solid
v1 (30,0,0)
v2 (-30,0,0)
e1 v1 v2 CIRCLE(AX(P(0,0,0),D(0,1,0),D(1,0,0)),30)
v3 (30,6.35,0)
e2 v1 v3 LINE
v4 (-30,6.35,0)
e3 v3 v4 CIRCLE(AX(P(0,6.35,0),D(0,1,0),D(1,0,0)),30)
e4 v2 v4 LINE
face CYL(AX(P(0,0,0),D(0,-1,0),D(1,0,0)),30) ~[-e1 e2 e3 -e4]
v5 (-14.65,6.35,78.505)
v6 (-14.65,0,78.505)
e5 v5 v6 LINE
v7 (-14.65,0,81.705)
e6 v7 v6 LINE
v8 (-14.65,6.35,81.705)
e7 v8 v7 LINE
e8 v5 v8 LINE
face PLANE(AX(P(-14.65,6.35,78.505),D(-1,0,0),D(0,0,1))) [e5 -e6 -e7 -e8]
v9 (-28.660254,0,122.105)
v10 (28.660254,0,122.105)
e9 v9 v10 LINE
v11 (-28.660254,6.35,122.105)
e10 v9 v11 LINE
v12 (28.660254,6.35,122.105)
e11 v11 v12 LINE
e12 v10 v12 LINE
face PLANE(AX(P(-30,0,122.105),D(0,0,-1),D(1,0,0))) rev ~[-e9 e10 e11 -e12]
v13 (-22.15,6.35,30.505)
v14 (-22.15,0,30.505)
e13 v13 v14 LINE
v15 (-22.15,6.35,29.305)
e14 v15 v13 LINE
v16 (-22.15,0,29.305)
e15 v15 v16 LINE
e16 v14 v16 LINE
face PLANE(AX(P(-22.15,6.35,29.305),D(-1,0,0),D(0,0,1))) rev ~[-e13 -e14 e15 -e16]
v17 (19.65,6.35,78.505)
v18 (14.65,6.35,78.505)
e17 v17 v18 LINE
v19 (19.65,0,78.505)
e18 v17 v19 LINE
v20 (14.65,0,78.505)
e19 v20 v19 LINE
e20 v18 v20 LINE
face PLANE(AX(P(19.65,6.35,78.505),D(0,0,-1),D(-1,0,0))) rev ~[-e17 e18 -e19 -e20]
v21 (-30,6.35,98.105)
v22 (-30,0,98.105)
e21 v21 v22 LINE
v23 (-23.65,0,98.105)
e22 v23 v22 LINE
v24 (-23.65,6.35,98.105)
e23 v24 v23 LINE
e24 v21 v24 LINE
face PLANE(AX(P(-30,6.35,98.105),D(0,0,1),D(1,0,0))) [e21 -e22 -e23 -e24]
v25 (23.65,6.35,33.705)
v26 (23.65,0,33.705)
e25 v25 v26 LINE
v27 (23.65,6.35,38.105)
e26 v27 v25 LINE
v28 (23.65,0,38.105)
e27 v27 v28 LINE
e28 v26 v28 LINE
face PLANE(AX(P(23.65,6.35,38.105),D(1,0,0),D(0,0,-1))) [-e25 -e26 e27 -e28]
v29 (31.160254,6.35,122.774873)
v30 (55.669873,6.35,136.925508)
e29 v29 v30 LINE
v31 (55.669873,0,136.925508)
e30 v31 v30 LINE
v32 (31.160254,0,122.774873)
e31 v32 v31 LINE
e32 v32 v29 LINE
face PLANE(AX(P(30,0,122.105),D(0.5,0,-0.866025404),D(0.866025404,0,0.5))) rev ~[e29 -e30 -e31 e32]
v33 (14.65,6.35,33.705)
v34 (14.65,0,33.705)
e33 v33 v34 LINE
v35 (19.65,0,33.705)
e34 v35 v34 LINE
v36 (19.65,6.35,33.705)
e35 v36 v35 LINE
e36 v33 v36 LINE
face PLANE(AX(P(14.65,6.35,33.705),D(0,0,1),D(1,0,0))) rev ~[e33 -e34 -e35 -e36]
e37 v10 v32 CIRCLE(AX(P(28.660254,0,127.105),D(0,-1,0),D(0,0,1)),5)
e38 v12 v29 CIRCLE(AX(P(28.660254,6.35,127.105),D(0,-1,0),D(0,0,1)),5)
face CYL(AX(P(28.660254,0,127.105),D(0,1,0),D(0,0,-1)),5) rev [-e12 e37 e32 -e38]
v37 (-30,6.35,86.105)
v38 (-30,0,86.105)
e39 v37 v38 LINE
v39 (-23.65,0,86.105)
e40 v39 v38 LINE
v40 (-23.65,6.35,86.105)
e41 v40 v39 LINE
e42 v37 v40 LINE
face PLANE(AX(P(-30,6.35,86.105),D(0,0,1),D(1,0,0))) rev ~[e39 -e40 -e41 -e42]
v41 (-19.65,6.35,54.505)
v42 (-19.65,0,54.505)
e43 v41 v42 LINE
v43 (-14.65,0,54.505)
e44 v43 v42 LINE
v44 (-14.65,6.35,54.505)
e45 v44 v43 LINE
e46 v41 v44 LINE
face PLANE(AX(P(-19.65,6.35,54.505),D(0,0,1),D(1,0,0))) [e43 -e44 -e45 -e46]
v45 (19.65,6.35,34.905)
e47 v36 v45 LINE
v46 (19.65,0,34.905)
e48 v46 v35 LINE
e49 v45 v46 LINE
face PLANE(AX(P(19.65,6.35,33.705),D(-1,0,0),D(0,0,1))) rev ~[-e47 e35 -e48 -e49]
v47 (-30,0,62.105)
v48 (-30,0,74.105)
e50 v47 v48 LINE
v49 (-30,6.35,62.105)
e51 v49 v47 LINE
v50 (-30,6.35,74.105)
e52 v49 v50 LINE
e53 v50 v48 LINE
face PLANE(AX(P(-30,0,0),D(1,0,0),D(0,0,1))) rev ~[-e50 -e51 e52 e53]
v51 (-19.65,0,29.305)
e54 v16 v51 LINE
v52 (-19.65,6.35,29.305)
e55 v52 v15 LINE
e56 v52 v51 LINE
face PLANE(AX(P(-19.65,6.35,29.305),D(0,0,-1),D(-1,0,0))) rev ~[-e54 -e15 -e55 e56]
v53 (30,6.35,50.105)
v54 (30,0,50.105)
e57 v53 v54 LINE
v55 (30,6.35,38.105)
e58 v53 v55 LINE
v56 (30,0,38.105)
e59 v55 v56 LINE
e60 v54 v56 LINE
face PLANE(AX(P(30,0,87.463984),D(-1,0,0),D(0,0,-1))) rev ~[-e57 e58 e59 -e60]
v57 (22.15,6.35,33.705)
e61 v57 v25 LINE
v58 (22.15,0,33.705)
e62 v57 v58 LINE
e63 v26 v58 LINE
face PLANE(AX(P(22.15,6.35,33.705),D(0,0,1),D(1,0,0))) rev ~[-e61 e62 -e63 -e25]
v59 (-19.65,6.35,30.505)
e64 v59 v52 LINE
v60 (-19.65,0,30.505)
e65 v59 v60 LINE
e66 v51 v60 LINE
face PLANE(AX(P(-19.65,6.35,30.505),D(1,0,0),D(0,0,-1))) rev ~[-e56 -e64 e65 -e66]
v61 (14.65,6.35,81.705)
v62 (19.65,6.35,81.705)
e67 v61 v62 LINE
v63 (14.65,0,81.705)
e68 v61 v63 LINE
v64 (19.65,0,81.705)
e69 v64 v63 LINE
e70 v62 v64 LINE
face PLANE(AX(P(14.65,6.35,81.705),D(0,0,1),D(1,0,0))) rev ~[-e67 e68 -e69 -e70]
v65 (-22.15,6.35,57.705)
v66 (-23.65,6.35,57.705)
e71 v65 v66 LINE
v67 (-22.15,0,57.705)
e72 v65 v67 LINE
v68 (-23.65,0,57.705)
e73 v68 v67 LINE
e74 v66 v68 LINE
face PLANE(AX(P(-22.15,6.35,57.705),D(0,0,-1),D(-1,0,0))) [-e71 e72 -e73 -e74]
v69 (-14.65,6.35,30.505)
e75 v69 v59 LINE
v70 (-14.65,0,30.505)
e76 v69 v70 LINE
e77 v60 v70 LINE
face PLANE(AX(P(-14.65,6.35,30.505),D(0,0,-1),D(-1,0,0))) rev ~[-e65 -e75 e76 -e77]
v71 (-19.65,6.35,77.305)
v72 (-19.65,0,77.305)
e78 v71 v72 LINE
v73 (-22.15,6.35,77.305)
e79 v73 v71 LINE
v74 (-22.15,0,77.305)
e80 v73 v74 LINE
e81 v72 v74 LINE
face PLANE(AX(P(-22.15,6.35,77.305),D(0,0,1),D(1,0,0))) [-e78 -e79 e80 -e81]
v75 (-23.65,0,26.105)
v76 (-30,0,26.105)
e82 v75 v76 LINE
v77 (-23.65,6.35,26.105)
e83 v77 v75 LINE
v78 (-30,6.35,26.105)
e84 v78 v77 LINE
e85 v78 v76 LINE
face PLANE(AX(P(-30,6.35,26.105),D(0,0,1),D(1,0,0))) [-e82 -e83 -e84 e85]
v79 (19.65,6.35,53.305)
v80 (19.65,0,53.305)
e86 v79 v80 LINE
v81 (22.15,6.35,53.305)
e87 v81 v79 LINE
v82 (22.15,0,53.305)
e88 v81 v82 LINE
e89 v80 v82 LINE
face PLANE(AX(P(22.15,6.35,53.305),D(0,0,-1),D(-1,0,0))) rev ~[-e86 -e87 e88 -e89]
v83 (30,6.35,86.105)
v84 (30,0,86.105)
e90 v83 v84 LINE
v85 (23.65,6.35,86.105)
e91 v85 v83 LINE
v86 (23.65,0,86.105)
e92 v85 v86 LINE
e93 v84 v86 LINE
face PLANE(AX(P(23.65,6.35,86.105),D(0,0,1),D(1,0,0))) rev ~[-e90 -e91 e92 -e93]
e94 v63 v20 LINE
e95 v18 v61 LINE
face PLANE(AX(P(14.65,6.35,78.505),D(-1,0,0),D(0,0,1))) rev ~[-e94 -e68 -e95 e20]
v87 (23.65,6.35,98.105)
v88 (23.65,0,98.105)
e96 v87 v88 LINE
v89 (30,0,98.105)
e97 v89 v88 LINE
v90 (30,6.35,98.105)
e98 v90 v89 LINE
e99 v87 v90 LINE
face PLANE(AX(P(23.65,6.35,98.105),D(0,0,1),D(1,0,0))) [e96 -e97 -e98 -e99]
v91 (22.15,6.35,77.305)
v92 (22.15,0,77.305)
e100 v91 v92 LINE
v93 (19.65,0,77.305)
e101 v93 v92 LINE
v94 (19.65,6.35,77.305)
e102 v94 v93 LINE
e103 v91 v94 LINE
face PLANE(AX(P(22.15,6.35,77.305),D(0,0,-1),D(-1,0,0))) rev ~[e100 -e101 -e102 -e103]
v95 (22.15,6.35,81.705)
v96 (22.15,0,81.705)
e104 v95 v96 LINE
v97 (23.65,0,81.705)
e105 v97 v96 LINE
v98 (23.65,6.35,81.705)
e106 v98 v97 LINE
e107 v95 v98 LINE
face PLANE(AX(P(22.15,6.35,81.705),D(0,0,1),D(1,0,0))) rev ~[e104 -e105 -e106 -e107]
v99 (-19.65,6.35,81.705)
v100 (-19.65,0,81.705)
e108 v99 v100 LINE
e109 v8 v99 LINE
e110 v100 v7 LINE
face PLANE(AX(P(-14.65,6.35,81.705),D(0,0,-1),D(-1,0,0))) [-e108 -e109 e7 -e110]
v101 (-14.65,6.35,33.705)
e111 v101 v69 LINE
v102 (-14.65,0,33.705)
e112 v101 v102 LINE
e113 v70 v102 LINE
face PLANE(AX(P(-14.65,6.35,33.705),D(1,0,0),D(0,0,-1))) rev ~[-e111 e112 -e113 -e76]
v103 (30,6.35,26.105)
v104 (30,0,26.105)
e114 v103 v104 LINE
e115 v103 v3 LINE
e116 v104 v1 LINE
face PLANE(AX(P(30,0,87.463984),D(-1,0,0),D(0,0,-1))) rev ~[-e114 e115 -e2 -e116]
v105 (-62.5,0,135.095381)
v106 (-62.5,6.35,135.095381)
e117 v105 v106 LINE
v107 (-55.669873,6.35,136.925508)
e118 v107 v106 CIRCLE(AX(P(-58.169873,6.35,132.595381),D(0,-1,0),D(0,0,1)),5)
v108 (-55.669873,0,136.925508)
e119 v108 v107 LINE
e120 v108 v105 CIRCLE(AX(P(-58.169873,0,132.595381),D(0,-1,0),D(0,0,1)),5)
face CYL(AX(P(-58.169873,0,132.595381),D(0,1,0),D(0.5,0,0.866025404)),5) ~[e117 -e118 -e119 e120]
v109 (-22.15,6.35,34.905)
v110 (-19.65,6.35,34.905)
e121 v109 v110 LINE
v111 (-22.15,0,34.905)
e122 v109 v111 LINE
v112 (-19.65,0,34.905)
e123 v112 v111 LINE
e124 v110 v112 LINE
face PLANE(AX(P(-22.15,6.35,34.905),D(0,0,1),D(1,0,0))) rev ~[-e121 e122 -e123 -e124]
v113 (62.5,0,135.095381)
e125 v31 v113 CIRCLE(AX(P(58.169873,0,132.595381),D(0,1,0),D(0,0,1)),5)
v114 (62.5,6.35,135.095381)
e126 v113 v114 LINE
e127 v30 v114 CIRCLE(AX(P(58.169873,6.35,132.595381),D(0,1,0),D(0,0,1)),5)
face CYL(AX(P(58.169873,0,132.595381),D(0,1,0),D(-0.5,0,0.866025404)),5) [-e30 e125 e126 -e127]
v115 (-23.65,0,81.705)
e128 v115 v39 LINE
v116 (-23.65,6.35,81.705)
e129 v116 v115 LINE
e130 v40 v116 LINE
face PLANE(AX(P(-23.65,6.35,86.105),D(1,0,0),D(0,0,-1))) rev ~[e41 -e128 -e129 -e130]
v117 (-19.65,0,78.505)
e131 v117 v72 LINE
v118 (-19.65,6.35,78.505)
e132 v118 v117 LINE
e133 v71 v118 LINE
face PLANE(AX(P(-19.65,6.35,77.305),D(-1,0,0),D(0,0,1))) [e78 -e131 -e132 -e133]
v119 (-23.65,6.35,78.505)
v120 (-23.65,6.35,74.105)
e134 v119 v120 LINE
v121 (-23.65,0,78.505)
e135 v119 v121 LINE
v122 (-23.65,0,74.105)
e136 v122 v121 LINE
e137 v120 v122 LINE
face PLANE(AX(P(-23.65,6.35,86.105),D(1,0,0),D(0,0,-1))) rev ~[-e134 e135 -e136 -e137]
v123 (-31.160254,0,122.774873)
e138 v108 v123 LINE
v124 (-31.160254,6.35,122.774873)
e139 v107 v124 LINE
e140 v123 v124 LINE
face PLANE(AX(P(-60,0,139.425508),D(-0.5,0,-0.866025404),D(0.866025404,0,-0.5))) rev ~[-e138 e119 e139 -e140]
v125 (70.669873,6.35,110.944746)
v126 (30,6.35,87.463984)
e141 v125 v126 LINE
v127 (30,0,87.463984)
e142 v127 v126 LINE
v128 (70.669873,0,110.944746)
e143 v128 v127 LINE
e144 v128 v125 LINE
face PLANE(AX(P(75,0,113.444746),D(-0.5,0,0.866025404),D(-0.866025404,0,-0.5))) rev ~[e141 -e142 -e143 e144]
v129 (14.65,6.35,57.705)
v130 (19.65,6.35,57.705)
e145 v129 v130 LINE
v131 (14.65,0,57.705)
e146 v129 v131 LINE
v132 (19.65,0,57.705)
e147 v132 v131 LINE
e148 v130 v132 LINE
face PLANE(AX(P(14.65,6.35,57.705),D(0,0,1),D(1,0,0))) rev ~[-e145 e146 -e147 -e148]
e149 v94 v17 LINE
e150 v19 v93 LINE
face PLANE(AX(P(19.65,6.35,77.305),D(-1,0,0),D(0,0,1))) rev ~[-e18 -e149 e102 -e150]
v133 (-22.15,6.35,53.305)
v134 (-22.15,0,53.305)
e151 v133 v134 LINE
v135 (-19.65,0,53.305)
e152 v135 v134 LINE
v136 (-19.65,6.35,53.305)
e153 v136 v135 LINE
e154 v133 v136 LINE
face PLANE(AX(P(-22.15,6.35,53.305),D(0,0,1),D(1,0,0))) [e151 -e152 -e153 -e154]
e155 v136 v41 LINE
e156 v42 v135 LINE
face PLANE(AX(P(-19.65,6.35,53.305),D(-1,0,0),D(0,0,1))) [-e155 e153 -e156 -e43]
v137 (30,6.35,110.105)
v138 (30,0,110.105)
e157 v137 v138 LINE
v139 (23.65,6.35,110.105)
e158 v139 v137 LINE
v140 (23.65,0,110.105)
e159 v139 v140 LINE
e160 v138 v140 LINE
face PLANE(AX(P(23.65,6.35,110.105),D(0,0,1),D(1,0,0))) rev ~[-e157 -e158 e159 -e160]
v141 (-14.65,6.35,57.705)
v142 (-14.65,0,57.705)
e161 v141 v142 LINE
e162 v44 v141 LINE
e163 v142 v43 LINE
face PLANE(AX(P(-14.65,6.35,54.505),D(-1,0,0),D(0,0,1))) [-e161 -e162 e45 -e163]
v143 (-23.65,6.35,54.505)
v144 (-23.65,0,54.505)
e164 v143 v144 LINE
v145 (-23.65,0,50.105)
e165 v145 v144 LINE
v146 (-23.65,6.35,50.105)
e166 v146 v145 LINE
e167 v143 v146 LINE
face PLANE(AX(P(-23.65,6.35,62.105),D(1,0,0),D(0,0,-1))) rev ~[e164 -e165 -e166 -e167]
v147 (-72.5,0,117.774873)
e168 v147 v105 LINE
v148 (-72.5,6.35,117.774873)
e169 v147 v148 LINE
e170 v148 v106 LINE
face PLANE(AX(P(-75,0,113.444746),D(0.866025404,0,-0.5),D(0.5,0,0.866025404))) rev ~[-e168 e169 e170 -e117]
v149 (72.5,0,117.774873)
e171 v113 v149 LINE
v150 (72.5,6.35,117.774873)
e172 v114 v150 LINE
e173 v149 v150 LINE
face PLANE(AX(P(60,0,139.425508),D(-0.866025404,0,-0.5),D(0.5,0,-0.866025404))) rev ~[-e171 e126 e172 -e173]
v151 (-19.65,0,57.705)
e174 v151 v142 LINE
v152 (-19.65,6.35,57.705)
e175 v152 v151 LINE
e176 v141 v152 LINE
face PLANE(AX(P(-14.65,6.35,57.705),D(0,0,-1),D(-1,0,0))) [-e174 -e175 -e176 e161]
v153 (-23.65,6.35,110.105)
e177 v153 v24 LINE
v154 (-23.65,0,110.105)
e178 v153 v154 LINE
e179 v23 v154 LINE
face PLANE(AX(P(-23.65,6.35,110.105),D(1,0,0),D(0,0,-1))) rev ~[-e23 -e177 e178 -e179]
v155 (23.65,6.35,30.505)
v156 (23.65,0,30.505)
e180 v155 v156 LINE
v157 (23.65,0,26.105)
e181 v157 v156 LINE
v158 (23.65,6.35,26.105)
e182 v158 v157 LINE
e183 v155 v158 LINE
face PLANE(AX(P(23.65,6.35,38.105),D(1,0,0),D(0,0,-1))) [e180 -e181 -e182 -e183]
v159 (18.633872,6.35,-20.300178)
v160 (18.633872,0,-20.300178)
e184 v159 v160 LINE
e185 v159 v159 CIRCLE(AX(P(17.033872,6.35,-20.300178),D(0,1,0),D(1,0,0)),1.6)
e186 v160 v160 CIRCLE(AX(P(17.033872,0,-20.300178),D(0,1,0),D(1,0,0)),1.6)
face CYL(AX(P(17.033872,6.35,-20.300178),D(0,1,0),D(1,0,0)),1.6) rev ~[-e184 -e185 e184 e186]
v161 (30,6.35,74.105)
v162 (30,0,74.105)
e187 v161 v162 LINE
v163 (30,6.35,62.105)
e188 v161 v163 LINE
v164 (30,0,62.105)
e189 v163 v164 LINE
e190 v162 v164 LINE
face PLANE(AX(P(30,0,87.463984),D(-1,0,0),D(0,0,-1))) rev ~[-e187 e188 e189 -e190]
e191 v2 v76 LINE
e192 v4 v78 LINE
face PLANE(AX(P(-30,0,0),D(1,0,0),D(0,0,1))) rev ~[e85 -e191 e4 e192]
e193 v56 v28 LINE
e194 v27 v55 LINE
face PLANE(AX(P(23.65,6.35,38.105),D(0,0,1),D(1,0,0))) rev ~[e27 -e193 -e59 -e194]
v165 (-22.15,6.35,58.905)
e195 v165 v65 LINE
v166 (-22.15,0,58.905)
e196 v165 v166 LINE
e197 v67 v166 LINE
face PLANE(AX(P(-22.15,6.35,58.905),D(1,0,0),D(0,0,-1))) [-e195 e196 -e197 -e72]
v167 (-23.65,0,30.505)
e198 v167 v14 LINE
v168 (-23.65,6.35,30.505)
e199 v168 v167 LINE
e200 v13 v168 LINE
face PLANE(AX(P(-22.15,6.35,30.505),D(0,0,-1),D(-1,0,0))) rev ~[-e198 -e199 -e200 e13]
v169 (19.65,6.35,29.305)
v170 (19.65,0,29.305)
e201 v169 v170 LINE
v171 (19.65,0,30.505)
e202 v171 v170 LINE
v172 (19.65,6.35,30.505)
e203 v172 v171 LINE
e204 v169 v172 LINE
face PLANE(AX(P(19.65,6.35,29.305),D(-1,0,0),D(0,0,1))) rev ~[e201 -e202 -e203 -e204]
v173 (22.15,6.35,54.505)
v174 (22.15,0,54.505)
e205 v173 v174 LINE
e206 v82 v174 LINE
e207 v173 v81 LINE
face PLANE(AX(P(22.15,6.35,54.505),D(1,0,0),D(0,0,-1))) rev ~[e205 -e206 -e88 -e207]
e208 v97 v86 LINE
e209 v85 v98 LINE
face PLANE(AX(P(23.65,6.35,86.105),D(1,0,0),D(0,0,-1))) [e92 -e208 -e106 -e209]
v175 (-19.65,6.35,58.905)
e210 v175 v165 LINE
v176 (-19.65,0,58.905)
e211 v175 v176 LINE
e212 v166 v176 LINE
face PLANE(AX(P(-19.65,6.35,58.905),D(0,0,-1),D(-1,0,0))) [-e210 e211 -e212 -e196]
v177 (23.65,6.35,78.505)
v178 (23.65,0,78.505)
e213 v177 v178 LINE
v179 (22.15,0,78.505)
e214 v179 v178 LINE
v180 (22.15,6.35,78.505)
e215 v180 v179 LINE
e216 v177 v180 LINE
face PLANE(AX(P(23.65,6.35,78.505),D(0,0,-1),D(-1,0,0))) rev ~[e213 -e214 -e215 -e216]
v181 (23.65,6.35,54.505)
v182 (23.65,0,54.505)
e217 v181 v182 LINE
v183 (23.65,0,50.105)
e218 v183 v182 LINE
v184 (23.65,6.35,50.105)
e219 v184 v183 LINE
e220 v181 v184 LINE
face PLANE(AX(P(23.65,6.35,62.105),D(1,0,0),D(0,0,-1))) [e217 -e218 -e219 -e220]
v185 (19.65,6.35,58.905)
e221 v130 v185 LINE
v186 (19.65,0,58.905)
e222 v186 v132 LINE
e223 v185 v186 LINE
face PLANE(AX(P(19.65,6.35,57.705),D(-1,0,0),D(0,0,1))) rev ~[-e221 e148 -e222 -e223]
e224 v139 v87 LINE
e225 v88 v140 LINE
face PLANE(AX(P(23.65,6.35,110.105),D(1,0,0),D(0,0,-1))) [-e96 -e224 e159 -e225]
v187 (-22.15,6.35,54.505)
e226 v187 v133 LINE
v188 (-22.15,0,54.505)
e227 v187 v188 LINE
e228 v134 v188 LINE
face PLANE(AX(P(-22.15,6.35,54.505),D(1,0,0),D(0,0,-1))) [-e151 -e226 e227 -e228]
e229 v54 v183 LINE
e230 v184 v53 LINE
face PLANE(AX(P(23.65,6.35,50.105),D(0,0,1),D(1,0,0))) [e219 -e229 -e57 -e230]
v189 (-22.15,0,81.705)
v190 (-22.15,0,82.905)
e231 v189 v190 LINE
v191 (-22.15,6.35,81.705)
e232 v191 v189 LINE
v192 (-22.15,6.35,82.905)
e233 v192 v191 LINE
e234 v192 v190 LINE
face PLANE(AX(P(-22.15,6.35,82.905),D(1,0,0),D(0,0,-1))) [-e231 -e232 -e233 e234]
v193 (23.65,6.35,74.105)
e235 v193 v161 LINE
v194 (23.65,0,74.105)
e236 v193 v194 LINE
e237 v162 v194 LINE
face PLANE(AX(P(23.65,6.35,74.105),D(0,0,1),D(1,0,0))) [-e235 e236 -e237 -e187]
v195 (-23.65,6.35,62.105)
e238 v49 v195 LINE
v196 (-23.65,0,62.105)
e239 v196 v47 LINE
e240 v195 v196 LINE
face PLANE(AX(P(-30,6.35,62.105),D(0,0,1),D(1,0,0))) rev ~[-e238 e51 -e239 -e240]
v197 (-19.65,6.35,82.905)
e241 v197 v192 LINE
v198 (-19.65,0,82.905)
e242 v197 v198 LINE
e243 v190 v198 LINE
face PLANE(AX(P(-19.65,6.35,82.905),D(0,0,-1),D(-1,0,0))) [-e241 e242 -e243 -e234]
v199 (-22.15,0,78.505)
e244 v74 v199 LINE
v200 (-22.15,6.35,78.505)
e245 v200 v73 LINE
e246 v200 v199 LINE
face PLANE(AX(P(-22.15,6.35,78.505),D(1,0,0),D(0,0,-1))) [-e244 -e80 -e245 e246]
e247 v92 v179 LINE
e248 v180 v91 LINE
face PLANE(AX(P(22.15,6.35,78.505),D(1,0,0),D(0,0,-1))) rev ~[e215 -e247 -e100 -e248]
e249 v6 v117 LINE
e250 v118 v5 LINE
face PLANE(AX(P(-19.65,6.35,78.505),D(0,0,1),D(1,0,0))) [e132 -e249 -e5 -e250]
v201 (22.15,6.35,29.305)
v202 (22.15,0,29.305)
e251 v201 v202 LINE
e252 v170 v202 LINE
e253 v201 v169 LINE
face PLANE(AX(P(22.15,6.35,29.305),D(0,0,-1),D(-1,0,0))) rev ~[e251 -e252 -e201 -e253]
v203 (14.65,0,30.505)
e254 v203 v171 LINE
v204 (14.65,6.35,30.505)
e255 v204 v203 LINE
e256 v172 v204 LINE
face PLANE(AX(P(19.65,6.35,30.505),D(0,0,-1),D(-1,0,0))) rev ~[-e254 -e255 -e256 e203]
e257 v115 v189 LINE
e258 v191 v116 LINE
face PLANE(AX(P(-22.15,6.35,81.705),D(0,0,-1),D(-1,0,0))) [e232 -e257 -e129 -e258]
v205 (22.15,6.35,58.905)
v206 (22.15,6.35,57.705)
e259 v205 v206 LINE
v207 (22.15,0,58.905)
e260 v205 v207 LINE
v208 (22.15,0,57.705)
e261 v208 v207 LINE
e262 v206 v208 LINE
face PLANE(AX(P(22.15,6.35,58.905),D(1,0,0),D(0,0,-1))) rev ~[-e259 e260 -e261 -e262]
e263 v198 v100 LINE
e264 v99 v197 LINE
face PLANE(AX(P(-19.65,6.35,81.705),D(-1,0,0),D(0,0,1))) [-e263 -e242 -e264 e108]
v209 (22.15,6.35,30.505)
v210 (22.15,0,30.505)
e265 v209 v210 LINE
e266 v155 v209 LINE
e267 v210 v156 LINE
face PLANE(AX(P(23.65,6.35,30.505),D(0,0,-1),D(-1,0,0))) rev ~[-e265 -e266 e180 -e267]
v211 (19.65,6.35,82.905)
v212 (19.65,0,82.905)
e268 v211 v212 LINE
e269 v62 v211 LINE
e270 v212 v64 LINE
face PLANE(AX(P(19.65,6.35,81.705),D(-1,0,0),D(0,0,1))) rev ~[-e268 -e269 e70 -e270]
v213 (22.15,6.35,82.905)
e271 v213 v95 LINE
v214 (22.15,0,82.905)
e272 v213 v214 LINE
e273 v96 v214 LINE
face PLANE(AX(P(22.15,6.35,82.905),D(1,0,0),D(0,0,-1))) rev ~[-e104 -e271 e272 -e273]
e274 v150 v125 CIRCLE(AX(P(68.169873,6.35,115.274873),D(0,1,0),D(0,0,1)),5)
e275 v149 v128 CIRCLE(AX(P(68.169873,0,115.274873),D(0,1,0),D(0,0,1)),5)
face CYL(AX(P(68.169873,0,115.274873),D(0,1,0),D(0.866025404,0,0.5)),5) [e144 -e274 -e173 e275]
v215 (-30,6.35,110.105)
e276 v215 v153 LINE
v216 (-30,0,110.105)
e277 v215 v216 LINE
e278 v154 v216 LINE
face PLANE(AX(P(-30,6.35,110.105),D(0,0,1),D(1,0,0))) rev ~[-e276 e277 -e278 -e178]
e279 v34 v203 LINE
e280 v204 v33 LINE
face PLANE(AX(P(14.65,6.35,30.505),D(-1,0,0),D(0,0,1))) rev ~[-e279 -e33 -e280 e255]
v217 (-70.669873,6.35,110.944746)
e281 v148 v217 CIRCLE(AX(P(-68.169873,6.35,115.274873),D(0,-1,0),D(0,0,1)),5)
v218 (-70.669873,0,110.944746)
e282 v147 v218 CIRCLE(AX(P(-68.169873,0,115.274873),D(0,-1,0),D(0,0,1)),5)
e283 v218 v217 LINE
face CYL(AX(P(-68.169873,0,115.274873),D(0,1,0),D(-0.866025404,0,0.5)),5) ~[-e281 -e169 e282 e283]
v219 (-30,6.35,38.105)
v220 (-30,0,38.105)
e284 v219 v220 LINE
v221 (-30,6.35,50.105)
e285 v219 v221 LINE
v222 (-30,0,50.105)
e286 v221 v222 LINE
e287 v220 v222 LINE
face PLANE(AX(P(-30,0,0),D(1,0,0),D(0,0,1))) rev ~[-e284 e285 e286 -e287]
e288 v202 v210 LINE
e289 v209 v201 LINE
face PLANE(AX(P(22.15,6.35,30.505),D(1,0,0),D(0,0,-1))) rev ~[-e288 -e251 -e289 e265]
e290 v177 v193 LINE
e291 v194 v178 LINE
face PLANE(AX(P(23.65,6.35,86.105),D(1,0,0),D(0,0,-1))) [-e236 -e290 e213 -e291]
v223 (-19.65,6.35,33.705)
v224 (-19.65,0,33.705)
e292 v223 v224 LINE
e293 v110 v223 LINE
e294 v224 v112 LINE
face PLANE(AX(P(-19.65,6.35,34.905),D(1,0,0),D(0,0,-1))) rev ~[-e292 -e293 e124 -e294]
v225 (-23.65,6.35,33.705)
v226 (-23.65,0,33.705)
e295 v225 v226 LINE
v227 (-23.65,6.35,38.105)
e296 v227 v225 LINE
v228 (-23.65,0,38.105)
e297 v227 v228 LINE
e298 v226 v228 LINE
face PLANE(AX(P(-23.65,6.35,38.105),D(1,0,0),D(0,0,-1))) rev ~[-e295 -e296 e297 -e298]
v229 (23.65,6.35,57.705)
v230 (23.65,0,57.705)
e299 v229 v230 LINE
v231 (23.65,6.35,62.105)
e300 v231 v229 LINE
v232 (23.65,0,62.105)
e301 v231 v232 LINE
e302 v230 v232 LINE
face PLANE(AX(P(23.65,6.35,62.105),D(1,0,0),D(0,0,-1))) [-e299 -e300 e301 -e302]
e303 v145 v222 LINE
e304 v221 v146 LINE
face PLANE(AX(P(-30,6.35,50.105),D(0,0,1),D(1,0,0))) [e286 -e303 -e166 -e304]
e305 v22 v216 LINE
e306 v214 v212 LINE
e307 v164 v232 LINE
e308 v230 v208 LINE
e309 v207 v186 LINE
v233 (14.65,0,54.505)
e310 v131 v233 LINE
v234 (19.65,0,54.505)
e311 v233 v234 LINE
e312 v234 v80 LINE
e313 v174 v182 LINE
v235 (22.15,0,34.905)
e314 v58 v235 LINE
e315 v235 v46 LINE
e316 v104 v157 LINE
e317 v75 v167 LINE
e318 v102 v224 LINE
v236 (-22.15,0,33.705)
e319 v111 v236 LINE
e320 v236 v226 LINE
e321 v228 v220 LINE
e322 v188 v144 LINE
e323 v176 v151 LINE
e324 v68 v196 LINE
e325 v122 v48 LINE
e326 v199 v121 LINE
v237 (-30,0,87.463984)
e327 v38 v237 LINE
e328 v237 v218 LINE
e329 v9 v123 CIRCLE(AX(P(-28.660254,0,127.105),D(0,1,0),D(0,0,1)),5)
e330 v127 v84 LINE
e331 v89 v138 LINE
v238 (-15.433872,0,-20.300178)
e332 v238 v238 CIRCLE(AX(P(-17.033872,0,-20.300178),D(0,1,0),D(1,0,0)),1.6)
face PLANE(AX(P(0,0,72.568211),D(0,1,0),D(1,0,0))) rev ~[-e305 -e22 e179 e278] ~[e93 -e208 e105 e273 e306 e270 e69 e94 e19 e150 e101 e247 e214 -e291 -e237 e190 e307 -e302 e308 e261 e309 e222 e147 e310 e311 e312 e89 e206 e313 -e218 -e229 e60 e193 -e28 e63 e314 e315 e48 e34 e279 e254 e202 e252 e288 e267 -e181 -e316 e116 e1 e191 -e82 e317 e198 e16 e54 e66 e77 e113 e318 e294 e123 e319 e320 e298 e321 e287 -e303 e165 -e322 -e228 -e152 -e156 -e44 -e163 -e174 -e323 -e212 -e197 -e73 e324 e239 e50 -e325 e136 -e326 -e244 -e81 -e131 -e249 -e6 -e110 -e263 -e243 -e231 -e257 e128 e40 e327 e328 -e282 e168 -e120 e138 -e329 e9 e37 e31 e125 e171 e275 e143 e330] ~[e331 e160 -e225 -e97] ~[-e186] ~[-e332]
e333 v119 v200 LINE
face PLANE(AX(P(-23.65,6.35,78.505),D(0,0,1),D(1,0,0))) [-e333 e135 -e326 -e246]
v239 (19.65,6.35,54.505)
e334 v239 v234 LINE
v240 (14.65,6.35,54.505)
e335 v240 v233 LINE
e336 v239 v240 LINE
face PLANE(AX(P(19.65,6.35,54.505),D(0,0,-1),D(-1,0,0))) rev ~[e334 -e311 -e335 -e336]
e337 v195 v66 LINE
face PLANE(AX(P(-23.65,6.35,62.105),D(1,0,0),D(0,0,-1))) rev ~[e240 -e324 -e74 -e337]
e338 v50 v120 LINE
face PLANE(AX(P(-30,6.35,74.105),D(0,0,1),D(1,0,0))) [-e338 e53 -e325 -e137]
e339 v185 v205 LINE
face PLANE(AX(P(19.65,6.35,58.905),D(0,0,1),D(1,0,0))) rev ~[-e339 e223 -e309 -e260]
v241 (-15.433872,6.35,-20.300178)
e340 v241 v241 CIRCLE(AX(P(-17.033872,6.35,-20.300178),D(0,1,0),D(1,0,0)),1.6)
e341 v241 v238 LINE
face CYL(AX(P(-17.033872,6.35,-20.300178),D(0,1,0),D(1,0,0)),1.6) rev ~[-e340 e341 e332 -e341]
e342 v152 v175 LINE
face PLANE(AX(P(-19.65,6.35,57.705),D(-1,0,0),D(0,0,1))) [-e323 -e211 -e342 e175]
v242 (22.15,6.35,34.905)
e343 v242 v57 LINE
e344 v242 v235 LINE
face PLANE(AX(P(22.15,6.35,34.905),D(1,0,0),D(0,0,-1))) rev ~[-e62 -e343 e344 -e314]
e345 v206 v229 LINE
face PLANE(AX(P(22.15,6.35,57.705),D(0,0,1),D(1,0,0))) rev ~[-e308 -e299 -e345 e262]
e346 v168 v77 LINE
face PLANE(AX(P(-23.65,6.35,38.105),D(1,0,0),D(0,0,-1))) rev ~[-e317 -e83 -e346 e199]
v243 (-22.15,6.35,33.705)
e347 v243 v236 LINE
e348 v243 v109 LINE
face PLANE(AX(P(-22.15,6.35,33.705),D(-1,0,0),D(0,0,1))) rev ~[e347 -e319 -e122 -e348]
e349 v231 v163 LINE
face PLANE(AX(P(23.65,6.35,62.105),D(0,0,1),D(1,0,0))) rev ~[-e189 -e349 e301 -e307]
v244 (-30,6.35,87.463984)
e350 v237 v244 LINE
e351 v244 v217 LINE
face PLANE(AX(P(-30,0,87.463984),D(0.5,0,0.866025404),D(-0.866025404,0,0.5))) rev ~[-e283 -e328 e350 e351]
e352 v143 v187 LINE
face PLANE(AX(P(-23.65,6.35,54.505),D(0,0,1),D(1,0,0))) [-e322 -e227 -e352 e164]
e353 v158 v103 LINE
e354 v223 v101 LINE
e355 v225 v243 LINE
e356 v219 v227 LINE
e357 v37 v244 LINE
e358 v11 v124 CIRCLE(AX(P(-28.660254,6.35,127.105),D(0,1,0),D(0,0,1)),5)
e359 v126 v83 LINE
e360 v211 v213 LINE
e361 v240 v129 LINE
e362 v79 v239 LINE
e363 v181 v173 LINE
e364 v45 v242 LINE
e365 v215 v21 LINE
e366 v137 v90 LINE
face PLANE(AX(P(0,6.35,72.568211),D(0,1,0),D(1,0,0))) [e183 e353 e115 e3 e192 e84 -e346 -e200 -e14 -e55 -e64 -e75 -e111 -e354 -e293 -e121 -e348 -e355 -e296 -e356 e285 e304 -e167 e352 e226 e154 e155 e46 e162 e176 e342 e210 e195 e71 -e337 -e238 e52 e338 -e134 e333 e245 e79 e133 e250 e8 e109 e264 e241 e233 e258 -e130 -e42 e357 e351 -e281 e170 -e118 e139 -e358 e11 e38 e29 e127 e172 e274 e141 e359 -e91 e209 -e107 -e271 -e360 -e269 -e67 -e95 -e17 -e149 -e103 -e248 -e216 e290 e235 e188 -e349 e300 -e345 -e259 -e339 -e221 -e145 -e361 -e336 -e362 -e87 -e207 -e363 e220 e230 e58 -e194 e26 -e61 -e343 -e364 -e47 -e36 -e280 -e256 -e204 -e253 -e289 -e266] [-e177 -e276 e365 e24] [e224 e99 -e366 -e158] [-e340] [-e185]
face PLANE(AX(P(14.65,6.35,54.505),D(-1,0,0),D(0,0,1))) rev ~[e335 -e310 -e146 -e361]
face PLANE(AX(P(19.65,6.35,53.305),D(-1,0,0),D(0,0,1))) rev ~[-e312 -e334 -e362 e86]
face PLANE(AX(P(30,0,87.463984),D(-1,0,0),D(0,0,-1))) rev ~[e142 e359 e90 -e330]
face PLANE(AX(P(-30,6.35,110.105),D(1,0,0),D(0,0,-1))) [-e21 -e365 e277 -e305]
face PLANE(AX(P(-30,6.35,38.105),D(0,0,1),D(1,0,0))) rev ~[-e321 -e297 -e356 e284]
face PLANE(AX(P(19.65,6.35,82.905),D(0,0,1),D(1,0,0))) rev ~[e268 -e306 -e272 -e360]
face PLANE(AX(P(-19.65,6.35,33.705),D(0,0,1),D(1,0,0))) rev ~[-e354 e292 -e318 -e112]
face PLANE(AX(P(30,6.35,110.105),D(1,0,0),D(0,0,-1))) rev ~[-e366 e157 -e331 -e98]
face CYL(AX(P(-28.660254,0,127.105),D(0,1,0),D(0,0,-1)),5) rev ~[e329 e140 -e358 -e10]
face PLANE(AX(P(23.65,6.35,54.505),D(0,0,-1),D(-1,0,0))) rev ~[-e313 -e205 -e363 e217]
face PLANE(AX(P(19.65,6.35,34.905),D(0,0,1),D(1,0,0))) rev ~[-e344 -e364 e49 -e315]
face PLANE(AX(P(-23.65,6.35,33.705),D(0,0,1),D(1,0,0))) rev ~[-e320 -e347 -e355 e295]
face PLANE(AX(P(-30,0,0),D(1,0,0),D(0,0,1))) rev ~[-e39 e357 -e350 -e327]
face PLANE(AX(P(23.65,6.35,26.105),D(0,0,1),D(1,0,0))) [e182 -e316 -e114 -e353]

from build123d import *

# Parameters (mm, degrees)
BOSS_EXTRUDE1_DEPTH = 6.35
CUT_EXTRUDE1_REACH  = 8.35
SKETCH3_W           = 6.35
SKETCH3_H           = 12
CUT_EXTRUDE2_REACH  = 8.35
SKETCH5_R           = 1.6
CUT_EXTRUDE3_DEPTH  = 7.35
FILLET1_R           = 5


with BuildPart() as part:
    # Sketch1 → Boss-Extrude1 (new body)
    with BuildSketch(Plane(origin=(0, 0, 0), x_dir=(1, 0, 0), z_dir=(0, 1, 0))):
        with BuildLine():
            Line((-30, -122.105), (30, -122.105))
            Line((30, -122.105), (60, -139.425508076))
            Line((60, -139.425508076), (75, -113.444745962))
            Line((75, -113.444745962), (30, -87.463983849))
            Line((30, -87.463983849), (30, 0))
            ThreePointArc((30, 0), (0, 30), (-30, 0))
            Line((-30, 0), (-30, -87.463983849))
            Line((-30, -87.463983849), (-75, -113.444745962))
            Line((-75, -113.444745962), (-60, -139.425508076))
            Line((-60, -139.425508076), (-30, -122.105))
        make_face()
    extrude(amount=BOSS_EXTRUDE1_DEPTH)

    # Sketch3 → Cut-Extrude1 (cut, up to next)
    with BuildSketch(Plane(origin=(0, 6.35, 0), x_dir=(1, 0, 0), z_dir=(0, 1, 0)), mode=Mode.PRIVATE) as cut_extrude1_sk1:
        with Locations((-26.825, -104.105)):
            Rectangle(SKETCH3_W, SKETCH3_H)
    cut_extrude1_tool1 = extrude(cut_extrude1_sk1.sketch, amount=-CUT_EXTRUDE1_REACH, mode=Mode.PRIVATE) & part.part
    add(cut_extrude1_tool1.solids().sort_by_distance((-26.825, 6.35, 104.105))[0], mode=Mode.SUBTRACT)
    # Sketch3 → Cut-Extrude1 (cut, up to next)
    with BuildSketch(Plane(origin=(0, 6.35, 0), x_dir=(1, 0, 0), z_dir=(0, 1, 0)), mode=Mode.PRIVATE) as cut_extrude1_sk2:
        with Locations((-26.825, -80.105)):
            Rectangle(SKETCH3_W, SKETCH3_H)
    cut_extrude1_tool2 = extrude(cut_extrude1_sk2.sketch, amount=-CUT_EXTRUDE1_REACH, mode=Mode.PRIVATE) & part.part
    add(cut_extrude1_tool2.solids().sort_by_distance((-26.825, 6.35, 80.105))[0], mode=Mode.SUBTRACT)
    # Sketch3 → Cut-Extrude1 (cut, up to next)
    with BuildSketch(Plane(origin=(0, 6.35, 0), x_dir=(1, 0, 0), z_dir=(0, 1, 0)), mode=Mode.PRIVATE) as cut_extrude1_sk3:
        with Locations((-26.825, -56.105)):
            Rectangle(SKETCH3_W, SKETCH3_H)
    cut_extrude1_tool3 = extrude(cut_extrude1_sk3.sketch, amount=-CUT_EXTRUDE1_REACH, mode=Mode.PRIVATE) & part.part
    add(cut_extrude1_tool3.solids().sort_by_distance((-26.825, 6.35, 56.105))[0], mode=Mode.SUBTRACT)
    # Sketch3 → Cut-Extrude1 (cut, up to next)
    with BuildSketch(Plane(origin=(0, 6.35, 0), x_dir=(1, 0, 0), z_dir=(0, 1, 0)), mode=Mode.PRIVATE) as cut_extrude1_sk4:
        with Locations((-26.825, -32.105)):
            Rectangle(SKETCH3_W, SKETCH3_H)
    cut_extrude1_tool4 = extrude(cut_extrude1_sk4.sketch, amount=-CUT_EXTRUDE1_REACH, mode=Mode.PRIVATE) & part.part
    add(cut_extrude1_tool4.solids().sort_by_distance((-26.825, 6.35, 32.105))[0], mode=Mode.SUBTRACT)
    # Sketch3 → Cut-Extrude1 (cut, up to next)
    with BuildSketch(Plane(origin=(0, 6.35, 0), x_dir=(1, 0, 0), z_dir=(0, 1, 0)), mode=Mode.PRIVATE) as cut_extrude1_sk5:
        with Locations((26.825, -32.105)):
            Rectangle(SKETCH3_W, SKETCH3_H)
    cut_extrude1_tool5 = extrude(cut_extrude1_sk5.sketch, amount=-CUT_EXTRUDE1_REACH, mode=Mode.PRIVATE) & part.part
    add(cut_extrude1_tool5.solids().sort_by_distance((26.825, 6.35, 32.105))[0], mode=Mode.SUBTRACT)
    # Sketch3 → Cut-Extrude1 (cut, up to next)
    with BuildSketch(Plane(origin=(0, 6.35, 0), x_dir=(1, 0, 0), z_dir=(0, 1, 0)), mode=Mode.PRIVATE) as cut_extrude1_sk6:
        with Locations((26.825, -56.105)):
            Rectangle(SKETCH3_W, SKETCH3_H)
    cut_extrude1_tool6 = extrude(cut_extrude1_sk6.sketch, amount=-CUT_EXTRUDE1_REACH, mode=Mode.PRIVATE) & part.part
    add(cut_extrude1_tool6.solids().sort_by_distance((26.825, 6.35, 56.105))[0], mode=Mode.SUBTRACT)
    # Sketch3 → Cut-Extrude1 (cut, up to next)
    with BuildSketch(Plane(origin=(0, 6.35, 0), x_dir=(1, 0, 0), z_dir=(0, 1, 0)), mode=Mode.PRIVATE) as cut_extrude1_sk7:
        with Locations((26.825, -80.105)):
            Rectangle(SKETCH3_W, SKETCH3_H)
    cut_extrude1_tool7 = extrude(cut_extrude1_sk7.sketch, amount=-CUT_EXTRUDE1_REACH, mode=Mode.PRIVATE) & part.part
    add(cut_extrude1_tool7.solids().sort_by_distance((26.825, 6.35, 80.105))[0], mode=Mode.SUBTRACT)
    # Sketch3 → Cut-Extrude1 (cut, up to next)
    with BuildSketch(Plane(origin=(0, 6.35, 0), x_dir=(1, 0, 0), z_dir=(0, 1, 0)), mode=Mode.PRIVATE) as cut_extrude1_sk8:
        with Locations((26.825, -104.105)):
            Rectangle(SKETCH3_W, SKETCH3_H)
    cut_extrude1_tool8 = extrude(cut_extrude1_sk8.sketch, amount=-CUT_EXTRUDE1_REACH, mode=Mode.PRIVATE) & part.part
    add(cut_extrude1_tool8.solids().sort_by_distance((26.825, 6.35, 104.105))[0], mode=Mode.SUBTRACT)

    # Sketch4 → Cut-Extrude2 (cut, up to next)
    with BuildSketch(Plane(origin=(0, 6.35, 0), x_dir=(1, 0, 0), z_dir=(0, 1, 0)), mode=Mode.PRIVATE) as cut_extrude2_sk1:
        Polygon((23.65, -30.505), (22.15, -30.505), (22.15, -29.305), (19.65, -29.305), (19.65, -30.505), (14.65, -30.505), (14.65, -33.705), (19.65, -33.705), (19.65, -34.905), (22.15, -34.905), (22.15, -33.705), (23.65, -33.705), align=None)
    cut_extrude2_tool1 = extrude(cut_extrude2_sk1.sketch, amount=-CUT_EXTRUDE2_REACH, mode=Mode.PRIVATE) & part.part
    add(cut_extrude2_tool1.solids().sort_by_distance((19.451724, 6.35, 32.105))[0], mode=Mode.SUBTRACT)
    # Sketch4 → Cut-Extrude2 (cut, up to next)
    with BuildSketch(Plane(origin=(0, 6.35, 0), x_dir=(1, 0, 0), z_dir=(0, 1, 0)), mode=Mode.PRIVATE) as cut_extrude2_sk2:
        Polygon((22.15, -53.305), (19.65, -53.305), (19.65, -54.505), (14.65, -54.505), (14.65, -57.705), (19.65, -57.705), (19.65, -58.905), (22.15, -58.905), (22.15, -57.705), (23.65, -57.705), (23.65, -54.505), (22.15, -54.505), align=None)
    cut_extrude2_tool2 = extrude(cut_extrude2_sk2.sketch, amount=-CUT_EXTRUDE2_REACH, mode=Mode.PRIVATE) & part.part
    add(cut_extrude2_tool2.solids().sort_by_distance((19.451724, 6.35, 56.105))[0], mode=Mode.SUBTRACT)
    # Sketch4 → Cut-Extrude2 (cut, up to next)
    with BuildSketch(Plane(origin=(0, 6.35, 0), x_dir=(1, 0, 0), z_dir=(0, 1, 0)), mode=Mode.PRIVATE) as cut_extrude2_sk3:
        Polygon((22.15, -77.305), (19.65, -77.305), (19.65, -78.505), (14.65, -78.505), (14.65, -81.705), (19.65, -81.705), (19.65, -82.905), (22.15, -82.905), (22.15, -81.705), (23.65, -81.705), (23.65, -78.505), (22.15, -78.505), align=None)
    cut_extrude2_tool3 = extrude(cut_extrude2_sk3.sketch, amount=-CUT_EXTRUDE2_REACH, mode=Mode.PRIVATE) & part.part
    add(cut_extrude2_tool3.solids().sort_by_distance((19.451724, 6.35, 80.105))[0], mode=Mode.SUBTRACT)
    # Sketch4 → Cut-Extrude2 (cut, up to next)
    with BuildSketch(Plane(origin=(0, 6.35, 0), x_dir=(1, 0, 0), z_dir=(0, 1, 0)), mode=Mode.PRIVATE) as cut_extrude2_sk4:
        Polygon((-22.15, -78.505), (-22.15, -77.305), (-19.65, -77.305), (-19.65, -78.505), (-14.65, -78.505), (-14.65, -81.705), (-19.65, -81.705), (-19.65, -82.905), (-22.15, -82.905), (-22.15, -81.705), (-23.65, -81.705), (-23.65, -78.505), align=None)
    cut_extrude2_tool4 = extrude(cut_extrude2_sk4.sketch, amount=-CUT_EXTRUDE2_REACH, mode=Mode.PRIVATE) & part.part
    add(cut_extrude2_tool4.solids().sort_by_distance((-19.451724, 6.35, 80.105))[0], mode=Mode.SUBTRACT)
    # Sketch4 → Cut-Extrude2 (cut, up to next)
    with BuildSketch(Plane(origin=(0, 6.35, 0), x_dir=(1, 0, 0), z_dir=(0, 1, 0)), mode=Mode.PRIVATE) as cut_extrude2_sk5:
        Polygon((-22.15, -54.505), (-22.15, -53.305), (-19.65, -53.305), (-19.65, -54.505), (-14.65, -54.505), (-14.65, -57.705), (-19.65, -57.705), (-19.65, -58.905), (-22.15, -58.905), (-22.15, -57.705), (-23.65, -57.705), (-23.65, -54.505), align=None)
    cut_extrude2_tool5 = extrude(cut_extrude2_sk5.sketch, amount=-CUT_EXTRUDE2_REACH, mode=Mode.PRIVATE) & part.part
    add(cut_extrude2_tool5.solids().sort_by_distance((-19.451724, 6.35, 56.105))[0], mode=Mode.SUBTRACT)
    # Sketch4 → Cut-Extrude2 (cut, up to next)
    with BuildSketch(Plane(origin=(0, 6.35, 0), x_dir=(1, 0, 0), z_dir=(0, 1, 0)), mode=Mode.PRIVATE) as cut_extrude2_sk6:
        Polygon((-19.65, -33.705), (-14.65, -33.705), (-14.65, -30.505), (-19.65, -30.505), (-19.65, -29.305), (-22.15, -29.305), (-22.15, -30.505), (-23.65, -30.505), (-23.65, -33.705), (-22.15, -33.705), (-22.15, -34.905), (-19.65, -34.905), align=None)
    cut_extrude2_tool6 = extrude(cut_extrude2_sk6.sketch, amount=-CUT_EXTRUDE2_REACH, mode=Mode.PRIVATE) & part.part
    add(cut_extrude2_tool6.solids().sort_by_distance((-19.451724, 6.35, 32.105))[0], mode=Mode.SUBTRACT)

    # Sketch5 → Cut-Extrude3 (cut, through all)
    with BuildSketch(Plane(origin=(0, 6.35, 0), x_dir=(1, 0, 0), z_dir=(0, 1, 0))):
        with Locations((-17.033871657, 20.300177743)):
            Circle(SKETCH5_R)
        with Locations((17.033871657, 20.300177743)):
            Circle(SKETCH5_R)
    extrude(amount=-CUT_EXTRUDE3_DEPTH, mode=Mode.SUBTRACT)

    # Fillet1
    fillet1_edges = [part.edges().sort_by_distance(p)[0] for p in [
        (75, 3.175, 113.444745962),
        (60, 3.175, 139.425508076),
        (30, 3.175, 122.105),
        (-30, 3.175, 122.105),
        (-60, 3.175, 139.425508076),
        (-75, 3.175, 113.444745962),
    ]]
    fillet(fillet1_edges, radius=FILLET1_R)


solid = part.part
